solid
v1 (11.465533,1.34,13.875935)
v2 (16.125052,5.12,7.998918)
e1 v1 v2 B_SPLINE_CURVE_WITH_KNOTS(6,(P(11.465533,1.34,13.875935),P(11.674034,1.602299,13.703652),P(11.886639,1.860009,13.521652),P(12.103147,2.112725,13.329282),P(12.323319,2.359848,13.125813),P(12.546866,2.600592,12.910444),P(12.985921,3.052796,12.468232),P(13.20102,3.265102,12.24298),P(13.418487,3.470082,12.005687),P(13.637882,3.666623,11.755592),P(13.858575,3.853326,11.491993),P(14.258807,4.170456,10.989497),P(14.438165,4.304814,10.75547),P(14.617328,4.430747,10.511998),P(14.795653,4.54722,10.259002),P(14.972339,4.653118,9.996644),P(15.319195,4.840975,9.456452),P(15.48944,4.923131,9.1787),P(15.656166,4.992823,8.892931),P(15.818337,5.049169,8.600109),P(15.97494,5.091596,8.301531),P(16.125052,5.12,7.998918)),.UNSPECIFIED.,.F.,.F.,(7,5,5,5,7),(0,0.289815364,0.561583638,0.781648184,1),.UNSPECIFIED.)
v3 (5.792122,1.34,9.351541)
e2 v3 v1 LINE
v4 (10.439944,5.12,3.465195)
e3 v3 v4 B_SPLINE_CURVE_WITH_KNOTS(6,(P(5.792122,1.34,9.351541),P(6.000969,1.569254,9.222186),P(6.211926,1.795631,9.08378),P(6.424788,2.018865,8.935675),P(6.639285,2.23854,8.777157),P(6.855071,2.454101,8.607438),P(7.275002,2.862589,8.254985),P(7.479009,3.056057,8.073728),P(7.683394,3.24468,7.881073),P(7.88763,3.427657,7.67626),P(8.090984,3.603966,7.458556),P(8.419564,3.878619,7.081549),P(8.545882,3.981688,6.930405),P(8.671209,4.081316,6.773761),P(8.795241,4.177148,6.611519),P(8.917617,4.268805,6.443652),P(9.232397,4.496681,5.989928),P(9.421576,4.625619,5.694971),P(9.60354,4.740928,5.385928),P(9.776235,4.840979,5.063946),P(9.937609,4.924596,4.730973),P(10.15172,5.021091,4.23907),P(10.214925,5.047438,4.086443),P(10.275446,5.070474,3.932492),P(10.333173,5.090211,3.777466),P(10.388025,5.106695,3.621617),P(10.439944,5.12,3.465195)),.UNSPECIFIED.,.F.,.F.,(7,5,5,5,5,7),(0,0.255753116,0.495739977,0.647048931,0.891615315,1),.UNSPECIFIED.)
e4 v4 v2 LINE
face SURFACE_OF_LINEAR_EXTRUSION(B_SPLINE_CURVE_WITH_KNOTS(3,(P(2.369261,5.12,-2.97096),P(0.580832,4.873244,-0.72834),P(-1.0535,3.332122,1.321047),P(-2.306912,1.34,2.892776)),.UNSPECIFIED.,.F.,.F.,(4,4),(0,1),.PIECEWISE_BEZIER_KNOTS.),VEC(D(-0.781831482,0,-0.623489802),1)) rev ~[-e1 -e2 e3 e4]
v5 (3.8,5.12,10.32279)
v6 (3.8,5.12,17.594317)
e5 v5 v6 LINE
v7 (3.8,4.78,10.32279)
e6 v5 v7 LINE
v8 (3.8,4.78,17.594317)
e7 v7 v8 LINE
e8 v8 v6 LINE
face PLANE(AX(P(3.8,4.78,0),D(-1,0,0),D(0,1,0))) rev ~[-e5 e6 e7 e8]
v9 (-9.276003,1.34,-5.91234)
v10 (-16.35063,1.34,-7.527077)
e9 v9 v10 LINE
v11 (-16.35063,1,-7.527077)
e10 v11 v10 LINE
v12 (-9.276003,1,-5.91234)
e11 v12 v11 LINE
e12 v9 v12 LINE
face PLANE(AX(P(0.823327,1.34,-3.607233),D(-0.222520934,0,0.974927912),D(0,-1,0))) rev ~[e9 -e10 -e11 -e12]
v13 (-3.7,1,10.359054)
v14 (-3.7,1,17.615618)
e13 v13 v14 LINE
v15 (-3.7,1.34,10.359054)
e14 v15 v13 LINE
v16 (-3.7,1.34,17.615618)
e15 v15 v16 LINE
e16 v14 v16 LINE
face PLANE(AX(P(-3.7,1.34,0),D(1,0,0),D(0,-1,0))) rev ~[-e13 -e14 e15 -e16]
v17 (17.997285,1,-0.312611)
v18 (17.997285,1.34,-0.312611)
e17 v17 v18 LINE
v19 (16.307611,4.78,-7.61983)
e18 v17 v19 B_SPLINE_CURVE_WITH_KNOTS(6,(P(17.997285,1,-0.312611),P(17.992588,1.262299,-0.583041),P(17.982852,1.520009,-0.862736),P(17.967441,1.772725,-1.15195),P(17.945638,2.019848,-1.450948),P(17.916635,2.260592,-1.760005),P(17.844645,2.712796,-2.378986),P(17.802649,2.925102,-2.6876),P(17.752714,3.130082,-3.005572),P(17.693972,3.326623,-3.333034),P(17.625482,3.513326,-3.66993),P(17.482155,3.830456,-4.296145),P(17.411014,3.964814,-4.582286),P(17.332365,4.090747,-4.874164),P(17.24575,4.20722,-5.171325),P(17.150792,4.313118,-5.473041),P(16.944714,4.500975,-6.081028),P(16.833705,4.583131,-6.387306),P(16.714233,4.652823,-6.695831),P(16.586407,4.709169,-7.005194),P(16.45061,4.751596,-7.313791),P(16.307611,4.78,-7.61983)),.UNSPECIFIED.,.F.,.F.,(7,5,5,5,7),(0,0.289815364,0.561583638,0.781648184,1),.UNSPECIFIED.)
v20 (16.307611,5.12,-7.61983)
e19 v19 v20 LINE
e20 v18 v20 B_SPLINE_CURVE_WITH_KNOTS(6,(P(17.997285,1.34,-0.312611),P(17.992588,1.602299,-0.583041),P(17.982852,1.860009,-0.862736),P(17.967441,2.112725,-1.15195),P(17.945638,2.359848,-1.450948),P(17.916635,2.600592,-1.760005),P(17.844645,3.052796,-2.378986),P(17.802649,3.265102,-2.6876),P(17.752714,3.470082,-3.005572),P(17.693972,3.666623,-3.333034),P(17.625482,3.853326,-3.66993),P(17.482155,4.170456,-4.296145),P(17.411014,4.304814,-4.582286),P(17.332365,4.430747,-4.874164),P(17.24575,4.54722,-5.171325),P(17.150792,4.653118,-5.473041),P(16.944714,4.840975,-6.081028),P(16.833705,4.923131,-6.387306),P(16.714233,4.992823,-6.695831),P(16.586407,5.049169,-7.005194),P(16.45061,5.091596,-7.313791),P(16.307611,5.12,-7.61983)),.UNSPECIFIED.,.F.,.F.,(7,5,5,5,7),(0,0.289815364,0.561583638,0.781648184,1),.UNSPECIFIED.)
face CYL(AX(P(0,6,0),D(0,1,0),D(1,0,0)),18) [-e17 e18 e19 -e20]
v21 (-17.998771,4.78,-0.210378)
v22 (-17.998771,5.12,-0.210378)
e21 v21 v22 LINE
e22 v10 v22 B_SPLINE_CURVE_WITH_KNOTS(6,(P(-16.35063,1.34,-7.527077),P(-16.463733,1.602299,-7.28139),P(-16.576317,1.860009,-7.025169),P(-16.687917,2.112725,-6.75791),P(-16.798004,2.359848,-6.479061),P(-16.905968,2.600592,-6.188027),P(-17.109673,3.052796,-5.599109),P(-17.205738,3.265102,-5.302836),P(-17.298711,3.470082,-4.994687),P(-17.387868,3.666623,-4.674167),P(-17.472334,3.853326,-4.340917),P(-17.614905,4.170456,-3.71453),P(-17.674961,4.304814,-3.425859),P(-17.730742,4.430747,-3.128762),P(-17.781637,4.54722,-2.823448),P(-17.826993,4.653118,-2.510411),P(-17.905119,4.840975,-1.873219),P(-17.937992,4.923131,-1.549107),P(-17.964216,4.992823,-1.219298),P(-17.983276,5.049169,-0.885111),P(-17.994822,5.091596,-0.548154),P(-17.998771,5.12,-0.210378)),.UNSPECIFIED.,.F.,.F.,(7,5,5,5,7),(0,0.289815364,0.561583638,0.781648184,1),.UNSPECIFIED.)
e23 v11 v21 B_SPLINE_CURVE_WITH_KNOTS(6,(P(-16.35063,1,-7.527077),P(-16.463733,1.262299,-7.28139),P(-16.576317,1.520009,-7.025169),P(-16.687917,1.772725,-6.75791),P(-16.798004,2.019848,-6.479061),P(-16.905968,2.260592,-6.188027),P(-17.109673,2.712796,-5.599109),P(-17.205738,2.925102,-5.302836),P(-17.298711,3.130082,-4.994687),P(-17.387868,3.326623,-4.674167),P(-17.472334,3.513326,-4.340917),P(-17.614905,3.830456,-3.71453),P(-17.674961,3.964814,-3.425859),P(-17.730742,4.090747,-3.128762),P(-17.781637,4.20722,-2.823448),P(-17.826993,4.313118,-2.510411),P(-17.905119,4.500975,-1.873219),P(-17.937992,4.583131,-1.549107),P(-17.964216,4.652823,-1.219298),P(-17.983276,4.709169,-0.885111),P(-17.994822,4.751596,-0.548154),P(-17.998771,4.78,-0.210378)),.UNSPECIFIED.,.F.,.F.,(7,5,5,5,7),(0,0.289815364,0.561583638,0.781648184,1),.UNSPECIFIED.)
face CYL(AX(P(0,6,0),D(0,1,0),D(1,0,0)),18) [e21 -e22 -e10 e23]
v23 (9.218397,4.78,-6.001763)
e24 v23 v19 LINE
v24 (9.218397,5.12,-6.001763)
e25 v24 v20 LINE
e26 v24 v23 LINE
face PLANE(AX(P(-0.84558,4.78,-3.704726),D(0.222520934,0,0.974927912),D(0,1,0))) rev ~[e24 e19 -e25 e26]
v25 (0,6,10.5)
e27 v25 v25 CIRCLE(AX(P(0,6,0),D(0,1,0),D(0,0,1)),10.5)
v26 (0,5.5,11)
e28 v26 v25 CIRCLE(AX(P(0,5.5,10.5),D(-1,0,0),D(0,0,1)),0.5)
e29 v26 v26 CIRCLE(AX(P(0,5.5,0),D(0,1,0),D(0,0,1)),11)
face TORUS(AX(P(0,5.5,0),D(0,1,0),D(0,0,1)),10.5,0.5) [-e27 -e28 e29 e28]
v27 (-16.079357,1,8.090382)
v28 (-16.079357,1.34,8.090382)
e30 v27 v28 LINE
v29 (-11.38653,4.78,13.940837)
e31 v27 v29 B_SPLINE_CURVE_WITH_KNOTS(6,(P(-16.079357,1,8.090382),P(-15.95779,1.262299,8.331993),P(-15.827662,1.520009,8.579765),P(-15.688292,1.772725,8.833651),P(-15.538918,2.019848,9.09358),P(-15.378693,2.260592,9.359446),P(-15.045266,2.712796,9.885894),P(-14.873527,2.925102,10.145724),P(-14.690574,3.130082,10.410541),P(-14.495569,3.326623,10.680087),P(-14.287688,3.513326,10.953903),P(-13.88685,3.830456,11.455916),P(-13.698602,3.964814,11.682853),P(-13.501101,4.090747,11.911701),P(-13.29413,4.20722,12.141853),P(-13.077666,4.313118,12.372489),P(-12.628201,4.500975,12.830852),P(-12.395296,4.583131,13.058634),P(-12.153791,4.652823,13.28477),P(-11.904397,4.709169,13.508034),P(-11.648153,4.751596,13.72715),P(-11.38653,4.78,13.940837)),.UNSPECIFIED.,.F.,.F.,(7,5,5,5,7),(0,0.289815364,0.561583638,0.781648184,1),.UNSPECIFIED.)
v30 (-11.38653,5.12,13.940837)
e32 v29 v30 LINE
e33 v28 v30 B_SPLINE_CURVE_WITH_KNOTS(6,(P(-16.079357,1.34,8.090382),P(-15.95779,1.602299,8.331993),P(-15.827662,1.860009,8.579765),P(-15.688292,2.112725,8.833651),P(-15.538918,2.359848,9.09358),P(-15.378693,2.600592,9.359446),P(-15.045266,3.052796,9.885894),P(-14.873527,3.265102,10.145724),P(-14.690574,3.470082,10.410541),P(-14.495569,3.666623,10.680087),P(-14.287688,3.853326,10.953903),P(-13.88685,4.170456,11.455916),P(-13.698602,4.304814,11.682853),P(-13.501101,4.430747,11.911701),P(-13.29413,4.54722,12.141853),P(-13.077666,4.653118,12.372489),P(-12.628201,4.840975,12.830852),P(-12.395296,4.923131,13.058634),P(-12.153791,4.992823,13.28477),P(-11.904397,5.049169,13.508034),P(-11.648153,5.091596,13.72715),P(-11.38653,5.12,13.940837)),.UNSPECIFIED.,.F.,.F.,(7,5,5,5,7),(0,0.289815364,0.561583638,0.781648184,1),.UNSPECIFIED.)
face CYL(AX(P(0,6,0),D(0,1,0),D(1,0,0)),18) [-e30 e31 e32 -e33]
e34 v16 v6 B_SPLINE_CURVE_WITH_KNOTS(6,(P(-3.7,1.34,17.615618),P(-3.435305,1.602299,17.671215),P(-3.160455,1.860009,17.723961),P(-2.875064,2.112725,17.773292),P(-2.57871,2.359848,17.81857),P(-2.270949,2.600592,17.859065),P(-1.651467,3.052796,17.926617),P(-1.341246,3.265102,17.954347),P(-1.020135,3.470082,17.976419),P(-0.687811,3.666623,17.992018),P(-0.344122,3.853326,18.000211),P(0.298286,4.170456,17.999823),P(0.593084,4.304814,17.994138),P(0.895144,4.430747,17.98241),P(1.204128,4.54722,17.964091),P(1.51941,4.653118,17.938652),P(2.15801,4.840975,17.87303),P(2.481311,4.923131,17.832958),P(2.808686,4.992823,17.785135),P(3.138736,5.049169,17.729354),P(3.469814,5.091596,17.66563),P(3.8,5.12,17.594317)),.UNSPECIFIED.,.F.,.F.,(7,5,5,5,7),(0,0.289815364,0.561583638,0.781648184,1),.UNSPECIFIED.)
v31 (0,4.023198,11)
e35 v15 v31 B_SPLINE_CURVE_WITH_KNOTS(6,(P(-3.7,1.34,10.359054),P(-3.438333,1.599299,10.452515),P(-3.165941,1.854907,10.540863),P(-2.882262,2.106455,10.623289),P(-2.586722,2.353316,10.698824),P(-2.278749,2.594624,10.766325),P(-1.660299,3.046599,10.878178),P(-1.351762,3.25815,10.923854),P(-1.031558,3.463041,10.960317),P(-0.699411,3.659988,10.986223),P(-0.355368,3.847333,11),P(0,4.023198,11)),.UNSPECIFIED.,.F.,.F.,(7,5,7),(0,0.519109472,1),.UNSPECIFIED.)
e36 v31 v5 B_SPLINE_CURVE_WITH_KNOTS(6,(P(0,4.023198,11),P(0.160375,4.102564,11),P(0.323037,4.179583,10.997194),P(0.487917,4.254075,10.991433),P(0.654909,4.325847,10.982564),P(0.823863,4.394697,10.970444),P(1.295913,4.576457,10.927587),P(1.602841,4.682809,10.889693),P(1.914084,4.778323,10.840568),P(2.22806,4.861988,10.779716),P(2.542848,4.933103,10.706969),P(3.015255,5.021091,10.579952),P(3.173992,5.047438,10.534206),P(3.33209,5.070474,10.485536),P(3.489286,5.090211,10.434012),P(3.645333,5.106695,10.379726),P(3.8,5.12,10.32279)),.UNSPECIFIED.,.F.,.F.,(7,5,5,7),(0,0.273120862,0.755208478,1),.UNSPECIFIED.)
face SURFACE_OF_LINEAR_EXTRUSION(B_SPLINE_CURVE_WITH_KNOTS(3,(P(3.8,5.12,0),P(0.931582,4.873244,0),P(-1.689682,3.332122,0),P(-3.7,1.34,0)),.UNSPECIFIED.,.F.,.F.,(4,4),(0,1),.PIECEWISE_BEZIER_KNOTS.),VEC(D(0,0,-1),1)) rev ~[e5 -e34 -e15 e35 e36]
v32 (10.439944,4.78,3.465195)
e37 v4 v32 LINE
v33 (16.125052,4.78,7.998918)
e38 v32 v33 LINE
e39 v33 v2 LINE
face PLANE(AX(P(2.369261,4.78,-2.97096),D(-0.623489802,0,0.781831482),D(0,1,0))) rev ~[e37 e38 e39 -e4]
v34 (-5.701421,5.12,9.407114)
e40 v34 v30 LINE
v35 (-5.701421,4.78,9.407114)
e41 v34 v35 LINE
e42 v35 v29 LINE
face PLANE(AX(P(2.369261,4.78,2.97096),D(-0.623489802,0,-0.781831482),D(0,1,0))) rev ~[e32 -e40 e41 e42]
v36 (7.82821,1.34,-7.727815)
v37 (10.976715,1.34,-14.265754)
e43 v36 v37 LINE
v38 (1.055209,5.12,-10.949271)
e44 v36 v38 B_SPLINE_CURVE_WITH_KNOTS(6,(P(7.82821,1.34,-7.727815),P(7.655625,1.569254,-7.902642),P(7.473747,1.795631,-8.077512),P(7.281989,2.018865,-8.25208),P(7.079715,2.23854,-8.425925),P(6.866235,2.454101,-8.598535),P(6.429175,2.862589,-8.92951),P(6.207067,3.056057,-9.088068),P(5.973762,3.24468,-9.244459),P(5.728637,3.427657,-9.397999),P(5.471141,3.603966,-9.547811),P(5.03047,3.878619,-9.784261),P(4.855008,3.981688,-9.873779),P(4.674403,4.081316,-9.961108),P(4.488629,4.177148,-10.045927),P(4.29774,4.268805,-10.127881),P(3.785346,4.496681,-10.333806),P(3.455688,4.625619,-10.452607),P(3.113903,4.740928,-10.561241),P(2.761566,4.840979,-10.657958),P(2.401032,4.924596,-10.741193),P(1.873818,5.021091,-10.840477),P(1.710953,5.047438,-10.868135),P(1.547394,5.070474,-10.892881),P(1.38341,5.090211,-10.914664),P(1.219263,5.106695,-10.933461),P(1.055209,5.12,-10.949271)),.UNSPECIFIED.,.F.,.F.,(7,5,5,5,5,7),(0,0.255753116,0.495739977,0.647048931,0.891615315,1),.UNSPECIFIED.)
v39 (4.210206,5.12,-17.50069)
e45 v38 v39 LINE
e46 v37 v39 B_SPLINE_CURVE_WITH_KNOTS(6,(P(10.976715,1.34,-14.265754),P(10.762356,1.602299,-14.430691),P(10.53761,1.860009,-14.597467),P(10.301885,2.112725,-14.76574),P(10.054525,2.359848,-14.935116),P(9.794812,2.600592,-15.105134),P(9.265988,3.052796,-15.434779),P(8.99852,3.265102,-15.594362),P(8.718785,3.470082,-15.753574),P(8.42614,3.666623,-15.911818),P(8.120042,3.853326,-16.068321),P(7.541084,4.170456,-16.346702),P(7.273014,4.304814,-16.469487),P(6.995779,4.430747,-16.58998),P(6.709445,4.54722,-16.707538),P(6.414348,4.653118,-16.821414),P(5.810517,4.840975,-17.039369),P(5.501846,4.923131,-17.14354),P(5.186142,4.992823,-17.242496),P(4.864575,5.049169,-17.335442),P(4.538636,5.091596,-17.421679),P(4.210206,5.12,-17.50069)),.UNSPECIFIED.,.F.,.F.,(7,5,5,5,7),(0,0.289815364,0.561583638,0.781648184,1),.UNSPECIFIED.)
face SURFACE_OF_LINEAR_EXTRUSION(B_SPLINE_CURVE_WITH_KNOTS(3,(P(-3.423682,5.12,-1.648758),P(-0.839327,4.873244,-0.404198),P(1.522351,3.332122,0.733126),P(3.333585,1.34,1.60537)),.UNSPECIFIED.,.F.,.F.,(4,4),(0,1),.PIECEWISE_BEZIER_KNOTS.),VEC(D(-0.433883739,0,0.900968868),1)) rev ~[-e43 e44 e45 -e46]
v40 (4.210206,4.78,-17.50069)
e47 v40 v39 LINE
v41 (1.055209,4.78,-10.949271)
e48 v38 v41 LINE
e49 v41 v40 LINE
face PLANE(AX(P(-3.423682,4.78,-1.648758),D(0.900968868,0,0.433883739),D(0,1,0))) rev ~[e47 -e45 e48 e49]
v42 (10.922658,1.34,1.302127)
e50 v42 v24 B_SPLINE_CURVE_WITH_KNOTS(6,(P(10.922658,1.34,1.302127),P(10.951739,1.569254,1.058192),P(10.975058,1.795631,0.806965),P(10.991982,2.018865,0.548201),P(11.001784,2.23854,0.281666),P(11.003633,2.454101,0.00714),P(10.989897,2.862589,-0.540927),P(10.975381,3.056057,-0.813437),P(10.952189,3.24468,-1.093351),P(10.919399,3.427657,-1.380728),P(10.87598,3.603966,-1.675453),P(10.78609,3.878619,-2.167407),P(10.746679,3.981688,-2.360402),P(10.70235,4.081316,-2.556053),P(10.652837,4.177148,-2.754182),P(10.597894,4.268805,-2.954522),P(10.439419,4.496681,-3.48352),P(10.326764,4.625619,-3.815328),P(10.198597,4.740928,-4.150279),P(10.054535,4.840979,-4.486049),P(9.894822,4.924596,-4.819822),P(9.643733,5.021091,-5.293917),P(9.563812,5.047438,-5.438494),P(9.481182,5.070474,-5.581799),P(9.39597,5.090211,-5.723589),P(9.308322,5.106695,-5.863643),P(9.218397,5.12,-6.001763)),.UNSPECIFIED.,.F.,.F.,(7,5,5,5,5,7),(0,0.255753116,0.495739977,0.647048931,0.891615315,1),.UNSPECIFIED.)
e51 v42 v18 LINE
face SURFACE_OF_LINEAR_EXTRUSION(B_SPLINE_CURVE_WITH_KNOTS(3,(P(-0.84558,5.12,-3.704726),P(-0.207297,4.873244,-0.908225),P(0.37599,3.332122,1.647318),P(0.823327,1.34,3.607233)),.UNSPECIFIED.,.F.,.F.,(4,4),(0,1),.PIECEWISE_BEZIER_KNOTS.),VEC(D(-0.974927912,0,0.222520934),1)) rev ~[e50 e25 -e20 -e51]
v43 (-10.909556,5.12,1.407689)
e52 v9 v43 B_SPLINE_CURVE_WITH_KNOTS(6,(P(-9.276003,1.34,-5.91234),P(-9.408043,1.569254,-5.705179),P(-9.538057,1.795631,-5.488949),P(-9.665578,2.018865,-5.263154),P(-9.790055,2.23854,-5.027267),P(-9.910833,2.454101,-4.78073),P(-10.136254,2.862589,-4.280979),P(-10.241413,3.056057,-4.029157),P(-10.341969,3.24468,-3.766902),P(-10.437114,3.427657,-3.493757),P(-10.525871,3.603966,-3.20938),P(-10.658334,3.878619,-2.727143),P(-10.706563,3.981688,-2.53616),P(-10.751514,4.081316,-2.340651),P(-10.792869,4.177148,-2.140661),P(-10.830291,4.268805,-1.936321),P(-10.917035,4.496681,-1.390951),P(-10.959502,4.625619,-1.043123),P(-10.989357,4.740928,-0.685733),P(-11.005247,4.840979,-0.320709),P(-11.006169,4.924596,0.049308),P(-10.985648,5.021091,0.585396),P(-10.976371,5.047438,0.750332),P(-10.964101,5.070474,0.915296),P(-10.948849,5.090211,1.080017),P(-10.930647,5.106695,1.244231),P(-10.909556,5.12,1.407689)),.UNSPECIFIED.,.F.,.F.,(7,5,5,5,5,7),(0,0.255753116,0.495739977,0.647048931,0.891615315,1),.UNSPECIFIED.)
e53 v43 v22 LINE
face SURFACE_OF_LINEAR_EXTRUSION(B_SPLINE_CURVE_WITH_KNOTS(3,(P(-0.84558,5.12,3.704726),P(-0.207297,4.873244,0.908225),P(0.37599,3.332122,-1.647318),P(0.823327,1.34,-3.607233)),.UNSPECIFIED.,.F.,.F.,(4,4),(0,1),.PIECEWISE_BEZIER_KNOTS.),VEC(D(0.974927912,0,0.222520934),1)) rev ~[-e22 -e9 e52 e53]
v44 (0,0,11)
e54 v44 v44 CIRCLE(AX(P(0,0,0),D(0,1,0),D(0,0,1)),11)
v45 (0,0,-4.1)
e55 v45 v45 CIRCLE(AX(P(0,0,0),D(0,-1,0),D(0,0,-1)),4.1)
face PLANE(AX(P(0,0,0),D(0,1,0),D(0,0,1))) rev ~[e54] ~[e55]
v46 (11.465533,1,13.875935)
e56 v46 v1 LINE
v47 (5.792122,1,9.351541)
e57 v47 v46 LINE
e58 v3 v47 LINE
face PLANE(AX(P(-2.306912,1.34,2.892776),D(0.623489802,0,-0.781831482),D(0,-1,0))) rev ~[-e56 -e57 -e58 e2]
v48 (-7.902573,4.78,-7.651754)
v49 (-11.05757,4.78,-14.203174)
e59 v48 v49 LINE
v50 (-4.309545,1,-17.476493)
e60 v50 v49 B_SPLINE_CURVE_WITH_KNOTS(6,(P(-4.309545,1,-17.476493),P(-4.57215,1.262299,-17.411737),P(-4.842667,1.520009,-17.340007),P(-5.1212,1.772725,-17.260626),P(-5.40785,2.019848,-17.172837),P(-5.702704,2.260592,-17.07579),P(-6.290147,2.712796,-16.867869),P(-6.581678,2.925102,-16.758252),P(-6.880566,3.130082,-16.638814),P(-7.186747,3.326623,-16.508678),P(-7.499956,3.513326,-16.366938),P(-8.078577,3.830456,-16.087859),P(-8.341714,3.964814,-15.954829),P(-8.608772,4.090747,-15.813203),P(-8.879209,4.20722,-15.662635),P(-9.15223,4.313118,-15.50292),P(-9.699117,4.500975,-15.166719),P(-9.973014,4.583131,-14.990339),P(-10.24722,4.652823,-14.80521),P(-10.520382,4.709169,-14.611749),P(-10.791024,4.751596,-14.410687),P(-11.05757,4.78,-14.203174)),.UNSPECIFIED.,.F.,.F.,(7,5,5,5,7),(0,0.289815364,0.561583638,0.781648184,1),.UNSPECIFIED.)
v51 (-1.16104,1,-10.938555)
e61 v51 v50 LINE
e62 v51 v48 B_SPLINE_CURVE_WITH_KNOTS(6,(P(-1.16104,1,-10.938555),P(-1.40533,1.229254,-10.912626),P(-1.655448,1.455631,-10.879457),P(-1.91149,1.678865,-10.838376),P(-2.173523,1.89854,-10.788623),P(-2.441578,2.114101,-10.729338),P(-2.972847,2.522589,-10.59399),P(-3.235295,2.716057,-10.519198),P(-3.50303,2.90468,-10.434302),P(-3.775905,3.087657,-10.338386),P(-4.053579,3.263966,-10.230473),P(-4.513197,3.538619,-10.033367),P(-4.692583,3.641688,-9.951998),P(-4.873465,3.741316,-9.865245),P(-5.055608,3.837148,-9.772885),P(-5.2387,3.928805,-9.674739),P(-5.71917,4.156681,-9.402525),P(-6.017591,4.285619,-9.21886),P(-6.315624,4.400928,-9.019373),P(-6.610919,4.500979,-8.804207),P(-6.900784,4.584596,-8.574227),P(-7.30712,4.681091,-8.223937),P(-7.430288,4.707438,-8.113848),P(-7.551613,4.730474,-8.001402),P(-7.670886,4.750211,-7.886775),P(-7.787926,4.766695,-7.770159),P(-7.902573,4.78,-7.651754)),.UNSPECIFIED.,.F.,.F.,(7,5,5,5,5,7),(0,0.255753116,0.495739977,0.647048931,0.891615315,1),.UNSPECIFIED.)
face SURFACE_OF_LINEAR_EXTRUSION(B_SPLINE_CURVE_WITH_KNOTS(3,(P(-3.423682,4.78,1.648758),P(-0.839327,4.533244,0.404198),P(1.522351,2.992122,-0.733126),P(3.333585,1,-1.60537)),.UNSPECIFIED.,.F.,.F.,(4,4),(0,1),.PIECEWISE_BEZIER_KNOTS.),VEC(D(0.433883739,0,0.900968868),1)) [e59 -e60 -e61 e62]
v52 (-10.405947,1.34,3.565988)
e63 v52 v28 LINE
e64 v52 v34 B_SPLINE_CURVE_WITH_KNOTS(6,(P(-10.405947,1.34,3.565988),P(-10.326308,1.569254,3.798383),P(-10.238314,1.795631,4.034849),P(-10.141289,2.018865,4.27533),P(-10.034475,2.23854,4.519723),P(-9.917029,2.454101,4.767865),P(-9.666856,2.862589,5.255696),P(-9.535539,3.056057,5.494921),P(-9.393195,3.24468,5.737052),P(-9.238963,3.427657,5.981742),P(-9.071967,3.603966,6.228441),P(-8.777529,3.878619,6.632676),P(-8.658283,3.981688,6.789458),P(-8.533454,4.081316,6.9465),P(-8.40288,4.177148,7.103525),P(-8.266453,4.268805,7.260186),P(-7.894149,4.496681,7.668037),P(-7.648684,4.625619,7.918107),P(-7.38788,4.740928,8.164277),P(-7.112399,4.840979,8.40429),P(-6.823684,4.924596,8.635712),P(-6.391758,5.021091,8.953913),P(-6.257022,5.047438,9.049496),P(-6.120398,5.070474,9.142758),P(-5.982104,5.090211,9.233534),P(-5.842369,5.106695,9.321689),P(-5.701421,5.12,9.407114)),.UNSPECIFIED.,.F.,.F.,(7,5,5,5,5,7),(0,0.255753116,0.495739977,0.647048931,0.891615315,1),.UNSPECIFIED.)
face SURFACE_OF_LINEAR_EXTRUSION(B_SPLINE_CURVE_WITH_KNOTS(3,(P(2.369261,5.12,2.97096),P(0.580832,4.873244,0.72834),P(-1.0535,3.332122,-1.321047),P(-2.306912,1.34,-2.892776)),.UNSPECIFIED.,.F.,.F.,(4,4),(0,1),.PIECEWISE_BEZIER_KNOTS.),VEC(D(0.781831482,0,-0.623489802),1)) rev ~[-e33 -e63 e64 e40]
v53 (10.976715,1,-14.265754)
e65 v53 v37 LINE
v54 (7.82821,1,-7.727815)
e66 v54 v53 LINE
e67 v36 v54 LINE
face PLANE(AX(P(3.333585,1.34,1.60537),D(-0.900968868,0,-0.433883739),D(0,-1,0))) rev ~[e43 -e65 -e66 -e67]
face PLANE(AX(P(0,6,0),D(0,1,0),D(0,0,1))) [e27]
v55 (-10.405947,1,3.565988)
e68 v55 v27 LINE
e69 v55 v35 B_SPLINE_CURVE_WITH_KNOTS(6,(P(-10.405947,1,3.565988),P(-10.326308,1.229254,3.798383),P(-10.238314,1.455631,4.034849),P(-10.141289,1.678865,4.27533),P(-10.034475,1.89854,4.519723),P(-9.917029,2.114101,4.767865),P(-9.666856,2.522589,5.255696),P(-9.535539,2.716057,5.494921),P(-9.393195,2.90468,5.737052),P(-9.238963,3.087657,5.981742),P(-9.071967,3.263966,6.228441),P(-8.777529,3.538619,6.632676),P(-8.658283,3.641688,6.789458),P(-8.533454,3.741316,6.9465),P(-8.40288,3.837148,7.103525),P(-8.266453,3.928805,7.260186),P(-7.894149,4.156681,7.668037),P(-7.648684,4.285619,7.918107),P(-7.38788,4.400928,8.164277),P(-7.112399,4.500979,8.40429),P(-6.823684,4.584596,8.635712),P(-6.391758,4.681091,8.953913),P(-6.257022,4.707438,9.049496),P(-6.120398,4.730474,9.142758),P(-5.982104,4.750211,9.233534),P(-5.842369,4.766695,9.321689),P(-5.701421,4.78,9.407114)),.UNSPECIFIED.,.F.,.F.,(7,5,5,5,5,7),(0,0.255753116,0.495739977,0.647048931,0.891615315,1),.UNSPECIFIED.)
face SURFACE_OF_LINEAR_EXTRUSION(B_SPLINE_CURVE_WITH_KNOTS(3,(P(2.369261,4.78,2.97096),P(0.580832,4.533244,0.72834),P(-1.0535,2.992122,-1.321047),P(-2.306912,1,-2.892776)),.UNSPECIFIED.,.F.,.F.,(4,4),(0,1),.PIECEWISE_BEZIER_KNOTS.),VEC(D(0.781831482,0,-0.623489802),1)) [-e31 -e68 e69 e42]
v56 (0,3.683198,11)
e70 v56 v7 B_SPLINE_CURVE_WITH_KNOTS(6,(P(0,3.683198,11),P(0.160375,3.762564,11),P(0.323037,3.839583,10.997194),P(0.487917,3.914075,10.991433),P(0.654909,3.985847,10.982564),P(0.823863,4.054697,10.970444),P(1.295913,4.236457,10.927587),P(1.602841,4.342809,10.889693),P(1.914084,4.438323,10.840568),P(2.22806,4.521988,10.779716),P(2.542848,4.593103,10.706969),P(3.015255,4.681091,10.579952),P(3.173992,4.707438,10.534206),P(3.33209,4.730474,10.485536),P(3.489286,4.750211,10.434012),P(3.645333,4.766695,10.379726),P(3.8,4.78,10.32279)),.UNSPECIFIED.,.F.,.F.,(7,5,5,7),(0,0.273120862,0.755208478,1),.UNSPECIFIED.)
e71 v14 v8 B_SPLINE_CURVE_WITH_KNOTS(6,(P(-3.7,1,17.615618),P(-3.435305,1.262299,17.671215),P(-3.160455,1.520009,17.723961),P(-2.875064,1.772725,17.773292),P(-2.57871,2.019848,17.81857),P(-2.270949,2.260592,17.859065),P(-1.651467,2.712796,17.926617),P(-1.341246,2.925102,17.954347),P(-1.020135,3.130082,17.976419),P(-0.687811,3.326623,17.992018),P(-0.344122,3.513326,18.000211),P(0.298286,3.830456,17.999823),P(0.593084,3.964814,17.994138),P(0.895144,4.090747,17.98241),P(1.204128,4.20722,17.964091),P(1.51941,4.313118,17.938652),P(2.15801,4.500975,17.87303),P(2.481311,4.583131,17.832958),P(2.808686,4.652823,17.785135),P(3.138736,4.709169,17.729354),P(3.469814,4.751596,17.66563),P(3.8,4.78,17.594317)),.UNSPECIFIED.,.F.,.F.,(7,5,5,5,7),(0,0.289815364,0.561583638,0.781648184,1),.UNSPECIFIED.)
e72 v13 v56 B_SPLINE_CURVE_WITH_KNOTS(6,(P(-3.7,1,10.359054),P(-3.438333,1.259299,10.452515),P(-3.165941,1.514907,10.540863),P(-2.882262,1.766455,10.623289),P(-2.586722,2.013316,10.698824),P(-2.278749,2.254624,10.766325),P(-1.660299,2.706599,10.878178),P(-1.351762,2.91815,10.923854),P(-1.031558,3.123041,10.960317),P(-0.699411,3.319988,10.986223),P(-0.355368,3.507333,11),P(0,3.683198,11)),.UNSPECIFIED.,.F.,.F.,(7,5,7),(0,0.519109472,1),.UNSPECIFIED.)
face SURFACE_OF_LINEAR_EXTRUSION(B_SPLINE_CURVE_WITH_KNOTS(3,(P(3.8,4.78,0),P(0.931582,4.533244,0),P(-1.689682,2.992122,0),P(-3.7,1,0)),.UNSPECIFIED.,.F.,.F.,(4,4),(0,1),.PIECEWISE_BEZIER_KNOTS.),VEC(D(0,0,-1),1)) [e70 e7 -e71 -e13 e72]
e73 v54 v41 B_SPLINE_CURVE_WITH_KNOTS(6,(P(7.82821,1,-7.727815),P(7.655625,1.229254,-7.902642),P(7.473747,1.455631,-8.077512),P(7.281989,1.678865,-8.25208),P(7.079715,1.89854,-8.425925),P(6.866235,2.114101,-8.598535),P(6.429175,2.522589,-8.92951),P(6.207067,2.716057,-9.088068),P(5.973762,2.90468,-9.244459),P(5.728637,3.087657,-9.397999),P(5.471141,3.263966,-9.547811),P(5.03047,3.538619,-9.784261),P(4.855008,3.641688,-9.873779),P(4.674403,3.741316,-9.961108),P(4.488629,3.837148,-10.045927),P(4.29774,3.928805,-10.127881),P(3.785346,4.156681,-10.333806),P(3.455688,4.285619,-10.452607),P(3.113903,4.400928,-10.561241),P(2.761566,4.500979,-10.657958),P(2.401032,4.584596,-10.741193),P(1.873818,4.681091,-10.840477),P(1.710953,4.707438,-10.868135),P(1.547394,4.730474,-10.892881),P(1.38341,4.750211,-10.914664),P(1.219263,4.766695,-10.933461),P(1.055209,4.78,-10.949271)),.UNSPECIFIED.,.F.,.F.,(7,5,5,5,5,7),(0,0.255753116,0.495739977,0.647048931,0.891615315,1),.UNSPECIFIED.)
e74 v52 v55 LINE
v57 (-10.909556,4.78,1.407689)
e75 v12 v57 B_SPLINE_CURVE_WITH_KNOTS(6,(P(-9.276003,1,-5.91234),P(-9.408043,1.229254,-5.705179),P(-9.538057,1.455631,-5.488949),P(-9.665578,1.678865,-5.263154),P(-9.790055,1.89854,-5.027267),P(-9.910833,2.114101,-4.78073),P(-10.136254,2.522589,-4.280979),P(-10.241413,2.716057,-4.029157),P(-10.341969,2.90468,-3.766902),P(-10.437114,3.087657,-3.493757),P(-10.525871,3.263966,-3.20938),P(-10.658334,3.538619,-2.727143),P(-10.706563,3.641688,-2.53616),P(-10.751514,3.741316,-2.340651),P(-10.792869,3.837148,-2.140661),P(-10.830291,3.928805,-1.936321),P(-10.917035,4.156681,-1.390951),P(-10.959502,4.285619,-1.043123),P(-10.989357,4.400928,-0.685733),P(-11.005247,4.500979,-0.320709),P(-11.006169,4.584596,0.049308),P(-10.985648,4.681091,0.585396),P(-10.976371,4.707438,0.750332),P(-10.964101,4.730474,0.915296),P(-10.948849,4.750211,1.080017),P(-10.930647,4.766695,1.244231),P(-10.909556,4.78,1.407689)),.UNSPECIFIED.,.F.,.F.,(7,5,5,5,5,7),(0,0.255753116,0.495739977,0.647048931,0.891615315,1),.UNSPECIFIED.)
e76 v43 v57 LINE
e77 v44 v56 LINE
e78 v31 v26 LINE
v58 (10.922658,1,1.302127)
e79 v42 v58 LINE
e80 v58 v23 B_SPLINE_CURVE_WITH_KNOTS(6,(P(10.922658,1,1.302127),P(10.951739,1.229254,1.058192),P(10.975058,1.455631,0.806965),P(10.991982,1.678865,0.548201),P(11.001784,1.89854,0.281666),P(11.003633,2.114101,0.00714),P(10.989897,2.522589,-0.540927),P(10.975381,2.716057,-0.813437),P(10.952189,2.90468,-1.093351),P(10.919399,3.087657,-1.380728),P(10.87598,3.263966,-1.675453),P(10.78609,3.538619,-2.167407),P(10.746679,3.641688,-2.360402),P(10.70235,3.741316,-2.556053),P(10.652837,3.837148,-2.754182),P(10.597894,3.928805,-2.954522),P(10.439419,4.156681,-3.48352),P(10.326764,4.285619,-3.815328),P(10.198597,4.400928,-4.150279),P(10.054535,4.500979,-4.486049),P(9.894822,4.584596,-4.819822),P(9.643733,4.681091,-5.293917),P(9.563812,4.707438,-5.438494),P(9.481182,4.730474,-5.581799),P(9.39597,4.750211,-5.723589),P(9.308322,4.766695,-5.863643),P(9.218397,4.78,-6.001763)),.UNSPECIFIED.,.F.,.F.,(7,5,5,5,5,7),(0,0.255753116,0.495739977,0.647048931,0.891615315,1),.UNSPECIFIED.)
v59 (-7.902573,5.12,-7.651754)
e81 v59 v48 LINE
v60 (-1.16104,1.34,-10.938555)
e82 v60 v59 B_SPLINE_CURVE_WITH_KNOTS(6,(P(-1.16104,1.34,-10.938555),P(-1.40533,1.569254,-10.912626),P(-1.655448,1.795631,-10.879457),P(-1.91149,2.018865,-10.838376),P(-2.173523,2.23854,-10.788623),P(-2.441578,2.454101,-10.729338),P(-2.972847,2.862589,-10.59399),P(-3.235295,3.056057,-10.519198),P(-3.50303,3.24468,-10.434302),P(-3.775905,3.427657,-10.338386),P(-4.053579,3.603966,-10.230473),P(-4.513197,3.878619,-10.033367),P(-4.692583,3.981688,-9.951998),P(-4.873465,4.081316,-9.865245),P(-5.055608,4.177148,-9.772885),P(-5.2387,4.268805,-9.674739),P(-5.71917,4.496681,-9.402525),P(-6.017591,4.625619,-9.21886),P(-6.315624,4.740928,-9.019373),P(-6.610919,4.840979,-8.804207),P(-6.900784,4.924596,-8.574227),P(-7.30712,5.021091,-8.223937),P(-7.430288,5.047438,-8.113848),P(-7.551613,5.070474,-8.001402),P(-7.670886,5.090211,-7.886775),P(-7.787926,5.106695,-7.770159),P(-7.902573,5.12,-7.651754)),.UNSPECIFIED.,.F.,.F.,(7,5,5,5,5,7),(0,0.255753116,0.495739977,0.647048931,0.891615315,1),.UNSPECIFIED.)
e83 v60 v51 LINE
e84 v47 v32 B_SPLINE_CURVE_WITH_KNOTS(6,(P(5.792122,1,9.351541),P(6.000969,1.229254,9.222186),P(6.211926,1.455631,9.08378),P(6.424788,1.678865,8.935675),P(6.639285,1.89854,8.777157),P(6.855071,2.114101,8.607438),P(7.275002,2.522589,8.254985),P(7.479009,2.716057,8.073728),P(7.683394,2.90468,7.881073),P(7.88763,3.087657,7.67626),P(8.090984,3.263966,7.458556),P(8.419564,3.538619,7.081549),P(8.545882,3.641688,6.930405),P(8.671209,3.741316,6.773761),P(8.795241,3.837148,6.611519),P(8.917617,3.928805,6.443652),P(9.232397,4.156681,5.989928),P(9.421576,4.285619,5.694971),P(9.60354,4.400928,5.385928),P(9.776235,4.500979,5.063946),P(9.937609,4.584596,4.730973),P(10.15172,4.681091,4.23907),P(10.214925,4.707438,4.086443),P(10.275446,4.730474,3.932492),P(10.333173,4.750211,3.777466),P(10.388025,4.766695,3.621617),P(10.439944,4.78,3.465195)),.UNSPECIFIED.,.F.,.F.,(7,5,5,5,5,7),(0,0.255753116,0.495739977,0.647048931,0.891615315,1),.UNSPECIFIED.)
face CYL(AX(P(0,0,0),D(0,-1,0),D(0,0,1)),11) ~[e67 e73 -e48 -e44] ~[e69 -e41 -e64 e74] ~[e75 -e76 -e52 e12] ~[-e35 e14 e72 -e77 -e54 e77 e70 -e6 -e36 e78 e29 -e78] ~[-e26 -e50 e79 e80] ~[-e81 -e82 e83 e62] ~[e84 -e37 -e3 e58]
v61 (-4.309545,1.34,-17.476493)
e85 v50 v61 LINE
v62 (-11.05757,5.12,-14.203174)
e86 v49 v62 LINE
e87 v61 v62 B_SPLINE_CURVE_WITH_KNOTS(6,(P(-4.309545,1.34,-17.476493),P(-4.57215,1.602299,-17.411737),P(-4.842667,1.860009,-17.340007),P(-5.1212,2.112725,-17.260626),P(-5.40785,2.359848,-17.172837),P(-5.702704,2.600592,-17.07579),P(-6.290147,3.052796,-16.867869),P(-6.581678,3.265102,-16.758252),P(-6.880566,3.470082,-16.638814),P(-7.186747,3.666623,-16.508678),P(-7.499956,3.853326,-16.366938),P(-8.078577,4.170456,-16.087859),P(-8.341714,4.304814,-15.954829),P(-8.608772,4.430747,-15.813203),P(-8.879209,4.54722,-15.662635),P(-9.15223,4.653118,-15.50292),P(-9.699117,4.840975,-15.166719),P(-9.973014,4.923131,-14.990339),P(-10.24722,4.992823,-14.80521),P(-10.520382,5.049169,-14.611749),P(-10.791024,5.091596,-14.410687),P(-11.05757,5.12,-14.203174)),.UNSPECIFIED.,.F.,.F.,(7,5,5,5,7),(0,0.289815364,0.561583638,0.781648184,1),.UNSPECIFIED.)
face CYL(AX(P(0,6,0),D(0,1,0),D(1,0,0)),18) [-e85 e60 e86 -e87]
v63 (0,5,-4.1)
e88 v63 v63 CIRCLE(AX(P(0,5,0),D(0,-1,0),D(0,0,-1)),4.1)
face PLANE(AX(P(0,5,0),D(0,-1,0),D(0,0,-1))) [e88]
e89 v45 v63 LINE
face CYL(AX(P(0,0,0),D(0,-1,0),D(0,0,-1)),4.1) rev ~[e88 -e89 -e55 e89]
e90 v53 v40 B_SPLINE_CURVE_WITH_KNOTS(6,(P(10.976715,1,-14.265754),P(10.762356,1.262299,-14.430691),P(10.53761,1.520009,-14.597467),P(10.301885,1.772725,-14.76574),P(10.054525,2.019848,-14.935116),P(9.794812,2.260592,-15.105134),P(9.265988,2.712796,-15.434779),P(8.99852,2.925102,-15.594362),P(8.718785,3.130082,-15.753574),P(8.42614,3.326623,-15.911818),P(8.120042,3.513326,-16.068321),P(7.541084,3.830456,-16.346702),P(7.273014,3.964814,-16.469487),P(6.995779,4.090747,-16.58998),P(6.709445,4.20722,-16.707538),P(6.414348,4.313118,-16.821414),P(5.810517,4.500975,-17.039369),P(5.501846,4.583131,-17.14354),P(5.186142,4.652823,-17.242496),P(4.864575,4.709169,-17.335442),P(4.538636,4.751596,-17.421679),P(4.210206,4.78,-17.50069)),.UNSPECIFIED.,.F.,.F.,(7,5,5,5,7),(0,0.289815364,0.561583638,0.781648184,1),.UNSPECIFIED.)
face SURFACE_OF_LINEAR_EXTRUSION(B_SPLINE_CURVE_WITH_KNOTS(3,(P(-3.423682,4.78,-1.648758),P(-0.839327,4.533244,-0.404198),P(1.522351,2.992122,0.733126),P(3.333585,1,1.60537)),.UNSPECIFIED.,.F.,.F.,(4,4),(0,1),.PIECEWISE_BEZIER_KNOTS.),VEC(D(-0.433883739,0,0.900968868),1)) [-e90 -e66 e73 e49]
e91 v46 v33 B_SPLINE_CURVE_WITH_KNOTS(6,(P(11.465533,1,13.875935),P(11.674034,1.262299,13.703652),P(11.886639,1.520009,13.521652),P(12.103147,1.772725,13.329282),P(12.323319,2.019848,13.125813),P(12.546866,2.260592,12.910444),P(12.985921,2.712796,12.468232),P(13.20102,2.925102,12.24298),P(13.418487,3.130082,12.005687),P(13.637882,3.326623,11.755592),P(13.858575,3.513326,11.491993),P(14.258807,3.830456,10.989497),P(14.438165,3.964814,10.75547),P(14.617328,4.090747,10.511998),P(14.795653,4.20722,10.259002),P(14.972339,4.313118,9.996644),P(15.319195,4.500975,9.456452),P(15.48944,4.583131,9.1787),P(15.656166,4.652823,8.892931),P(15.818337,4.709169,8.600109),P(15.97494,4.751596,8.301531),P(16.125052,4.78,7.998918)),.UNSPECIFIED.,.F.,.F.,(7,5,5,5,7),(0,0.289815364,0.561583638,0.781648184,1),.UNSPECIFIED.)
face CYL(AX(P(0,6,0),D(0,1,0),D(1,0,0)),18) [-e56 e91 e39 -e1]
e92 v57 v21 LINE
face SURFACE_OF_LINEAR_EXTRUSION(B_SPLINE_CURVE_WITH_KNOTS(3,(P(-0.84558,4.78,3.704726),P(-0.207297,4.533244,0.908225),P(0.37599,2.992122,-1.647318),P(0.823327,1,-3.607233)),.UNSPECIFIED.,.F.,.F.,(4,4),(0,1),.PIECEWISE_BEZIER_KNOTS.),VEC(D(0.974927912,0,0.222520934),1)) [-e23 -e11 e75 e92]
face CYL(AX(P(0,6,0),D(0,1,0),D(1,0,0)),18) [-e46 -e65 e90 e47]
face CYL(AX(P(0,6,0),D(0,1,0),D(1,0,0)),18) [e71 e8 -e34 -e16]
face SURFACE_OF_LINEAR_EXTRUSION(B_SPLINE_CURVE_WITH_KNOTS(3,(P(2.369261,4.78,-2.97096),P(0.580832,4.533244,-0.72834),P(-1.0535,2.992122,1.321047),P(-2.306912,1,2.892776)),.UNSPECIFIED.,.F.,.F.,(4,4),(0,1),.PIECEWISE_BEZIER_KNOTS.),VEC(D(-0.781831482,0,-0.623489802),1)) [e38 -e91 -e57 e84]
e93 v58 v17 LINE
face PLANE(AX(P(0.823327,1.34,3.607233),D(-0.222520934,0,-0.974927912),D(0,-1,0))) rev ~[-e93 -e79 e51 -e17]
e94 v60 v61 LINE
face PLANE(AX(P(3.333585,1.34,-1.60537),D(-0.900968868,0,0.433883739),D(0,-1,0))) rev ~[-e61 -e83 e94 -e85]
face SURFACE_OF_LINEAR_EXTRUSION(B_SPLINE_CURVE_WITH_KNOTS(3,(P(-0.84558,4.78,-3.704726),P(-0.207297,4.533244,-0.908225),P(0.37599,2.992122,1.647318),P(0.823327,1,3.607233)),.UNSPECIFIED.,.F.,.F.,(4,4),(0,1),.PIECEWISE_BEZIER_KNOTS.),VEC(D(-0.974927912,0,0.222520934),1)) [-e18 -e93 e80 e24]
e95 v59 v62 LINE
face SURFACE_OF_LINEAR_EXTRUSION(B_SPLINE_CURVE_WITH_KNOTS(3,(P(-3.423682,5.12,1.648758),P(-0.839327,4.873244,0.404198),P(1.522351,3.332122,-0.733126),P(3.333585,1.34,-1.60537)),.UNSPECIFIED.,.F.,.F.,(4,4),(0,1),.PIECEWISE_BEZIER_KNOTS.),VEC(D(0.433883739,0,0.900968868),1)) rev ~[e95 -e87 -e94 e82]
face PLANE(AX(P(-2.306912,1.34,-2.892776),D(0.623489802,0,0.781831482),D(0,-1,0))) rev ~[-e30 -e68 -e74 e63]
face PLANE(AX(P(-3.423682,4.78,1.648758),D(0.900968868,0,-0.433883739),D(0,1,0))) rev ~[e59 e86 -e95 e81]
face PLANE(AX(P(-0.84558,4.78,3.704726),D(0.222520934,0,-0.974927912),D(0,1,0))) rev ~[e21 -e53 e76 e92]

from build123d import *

# Parameters (mm, degrees)
SKETCH_1_R               = 11
EXTRUDE_1_DEPTH          = 6
EXTRUDE_2_DEPTH          = 25
PATTERN_CIRCULAR_1_COUNT = 7
SKETCH_4_R               = 35
SKETCH_4_R_2             = 18
CUT_EXTRUDE_2_DEPTH      = 25
FILLET_1_R               = 0.5
SKETCH_2_R               = 4.1
CUT_EXTRUDE_1_DEPTH      = 5


with BuildPart() as part:
    # Эскиз1 → Бобышка-Вытянуть1 (new body)
    with BuildSketch(Plane(origin=(0, 0, 0), x_dir=(1, 0, 0), z_dir=(0, 1, 0))):
        with Locations(Location((0, 0, 0), (0, 0, 270))):
            Circle(SKETCH_1_R)
    extrude(amount=EXTRUDE_1_DEPTH)

    # Эскиз3 → Бобышка-Вытянуть2 (add)
    with BuildSketch(Plane.XY):
        with BuildLine():
            Line((-3.7, 1.34), (-3.7, 1))
            add(Edge.make_bspline(
                [(3.8, 4.78), (0.931582196, 4.533244366), (-1.689682262, 2.992121942), (-3.7, 1)],
                knots=[0, 0, 0, 0, 1, 1, 1, 1], degree=3))
            Line((3.8, 4.78), (3.8, 5.12))
            add(Edge.make_bspline(
                [(3.8, 5.12), (0.931582196, 4.873244366), (-1.689682262, 3.332121942), (-3.7, 1.34)],
                knots=[0, 0, 0, 0, 1, 1, 1, 1], degree=3))
        make_face()
    extrude_2 = extrude(amount=EXTRUDE_2_DEPTH)

    # Круговой массив1: Бобышка-Вытянуть2 ×7 about axis
    pattern_circular_1_axis = Axis((0, 6, 0), (0, 1, 0))
    for i in range(1, PATTERN_CIRCULAR_1_COUNT):
        add(extrude_2.rotate(pattern_circular_1_axis, i * 360 / PATTERN_CIRCULAR_1_COUNT))

    # Эскиз4 → Вырез-Вытянуть2 (cut)
    with BuildSketch(Plane(origin=(0, 6, 0), x_dir=(1, 0, 0), z_dir=(0, 1, 0))):
        Circle(SKETCH_4_R)
        Circle(SKETCH_4_R_2, mode=Mode.SUBTRACT)
    extrude(amount=-CUT_EXTRUDE_2_DEPTH, mode=Mode.SUBTRACT)

    # Скругление1
    fillet_1_edges = [part.edges().sort_by_distance(p)[0] for p in [
        (0, 6, -11),
    ]]
    fillet(fillet_1_edges, radius=FILLET_1_R)

    # Эскиз2 → Вырез-Вытянуть1 (cut)
    with BuildSketch(Plane.XZ):
        with Locations(Location((0, 0, 0), (0, 0, 270))):
            Circle(SKETCH_2_R)
    extrude(amount=-CUT_EXTRUDE_1_DEPTH, mode=Mode.SUBTRACT)


solid = part.part
